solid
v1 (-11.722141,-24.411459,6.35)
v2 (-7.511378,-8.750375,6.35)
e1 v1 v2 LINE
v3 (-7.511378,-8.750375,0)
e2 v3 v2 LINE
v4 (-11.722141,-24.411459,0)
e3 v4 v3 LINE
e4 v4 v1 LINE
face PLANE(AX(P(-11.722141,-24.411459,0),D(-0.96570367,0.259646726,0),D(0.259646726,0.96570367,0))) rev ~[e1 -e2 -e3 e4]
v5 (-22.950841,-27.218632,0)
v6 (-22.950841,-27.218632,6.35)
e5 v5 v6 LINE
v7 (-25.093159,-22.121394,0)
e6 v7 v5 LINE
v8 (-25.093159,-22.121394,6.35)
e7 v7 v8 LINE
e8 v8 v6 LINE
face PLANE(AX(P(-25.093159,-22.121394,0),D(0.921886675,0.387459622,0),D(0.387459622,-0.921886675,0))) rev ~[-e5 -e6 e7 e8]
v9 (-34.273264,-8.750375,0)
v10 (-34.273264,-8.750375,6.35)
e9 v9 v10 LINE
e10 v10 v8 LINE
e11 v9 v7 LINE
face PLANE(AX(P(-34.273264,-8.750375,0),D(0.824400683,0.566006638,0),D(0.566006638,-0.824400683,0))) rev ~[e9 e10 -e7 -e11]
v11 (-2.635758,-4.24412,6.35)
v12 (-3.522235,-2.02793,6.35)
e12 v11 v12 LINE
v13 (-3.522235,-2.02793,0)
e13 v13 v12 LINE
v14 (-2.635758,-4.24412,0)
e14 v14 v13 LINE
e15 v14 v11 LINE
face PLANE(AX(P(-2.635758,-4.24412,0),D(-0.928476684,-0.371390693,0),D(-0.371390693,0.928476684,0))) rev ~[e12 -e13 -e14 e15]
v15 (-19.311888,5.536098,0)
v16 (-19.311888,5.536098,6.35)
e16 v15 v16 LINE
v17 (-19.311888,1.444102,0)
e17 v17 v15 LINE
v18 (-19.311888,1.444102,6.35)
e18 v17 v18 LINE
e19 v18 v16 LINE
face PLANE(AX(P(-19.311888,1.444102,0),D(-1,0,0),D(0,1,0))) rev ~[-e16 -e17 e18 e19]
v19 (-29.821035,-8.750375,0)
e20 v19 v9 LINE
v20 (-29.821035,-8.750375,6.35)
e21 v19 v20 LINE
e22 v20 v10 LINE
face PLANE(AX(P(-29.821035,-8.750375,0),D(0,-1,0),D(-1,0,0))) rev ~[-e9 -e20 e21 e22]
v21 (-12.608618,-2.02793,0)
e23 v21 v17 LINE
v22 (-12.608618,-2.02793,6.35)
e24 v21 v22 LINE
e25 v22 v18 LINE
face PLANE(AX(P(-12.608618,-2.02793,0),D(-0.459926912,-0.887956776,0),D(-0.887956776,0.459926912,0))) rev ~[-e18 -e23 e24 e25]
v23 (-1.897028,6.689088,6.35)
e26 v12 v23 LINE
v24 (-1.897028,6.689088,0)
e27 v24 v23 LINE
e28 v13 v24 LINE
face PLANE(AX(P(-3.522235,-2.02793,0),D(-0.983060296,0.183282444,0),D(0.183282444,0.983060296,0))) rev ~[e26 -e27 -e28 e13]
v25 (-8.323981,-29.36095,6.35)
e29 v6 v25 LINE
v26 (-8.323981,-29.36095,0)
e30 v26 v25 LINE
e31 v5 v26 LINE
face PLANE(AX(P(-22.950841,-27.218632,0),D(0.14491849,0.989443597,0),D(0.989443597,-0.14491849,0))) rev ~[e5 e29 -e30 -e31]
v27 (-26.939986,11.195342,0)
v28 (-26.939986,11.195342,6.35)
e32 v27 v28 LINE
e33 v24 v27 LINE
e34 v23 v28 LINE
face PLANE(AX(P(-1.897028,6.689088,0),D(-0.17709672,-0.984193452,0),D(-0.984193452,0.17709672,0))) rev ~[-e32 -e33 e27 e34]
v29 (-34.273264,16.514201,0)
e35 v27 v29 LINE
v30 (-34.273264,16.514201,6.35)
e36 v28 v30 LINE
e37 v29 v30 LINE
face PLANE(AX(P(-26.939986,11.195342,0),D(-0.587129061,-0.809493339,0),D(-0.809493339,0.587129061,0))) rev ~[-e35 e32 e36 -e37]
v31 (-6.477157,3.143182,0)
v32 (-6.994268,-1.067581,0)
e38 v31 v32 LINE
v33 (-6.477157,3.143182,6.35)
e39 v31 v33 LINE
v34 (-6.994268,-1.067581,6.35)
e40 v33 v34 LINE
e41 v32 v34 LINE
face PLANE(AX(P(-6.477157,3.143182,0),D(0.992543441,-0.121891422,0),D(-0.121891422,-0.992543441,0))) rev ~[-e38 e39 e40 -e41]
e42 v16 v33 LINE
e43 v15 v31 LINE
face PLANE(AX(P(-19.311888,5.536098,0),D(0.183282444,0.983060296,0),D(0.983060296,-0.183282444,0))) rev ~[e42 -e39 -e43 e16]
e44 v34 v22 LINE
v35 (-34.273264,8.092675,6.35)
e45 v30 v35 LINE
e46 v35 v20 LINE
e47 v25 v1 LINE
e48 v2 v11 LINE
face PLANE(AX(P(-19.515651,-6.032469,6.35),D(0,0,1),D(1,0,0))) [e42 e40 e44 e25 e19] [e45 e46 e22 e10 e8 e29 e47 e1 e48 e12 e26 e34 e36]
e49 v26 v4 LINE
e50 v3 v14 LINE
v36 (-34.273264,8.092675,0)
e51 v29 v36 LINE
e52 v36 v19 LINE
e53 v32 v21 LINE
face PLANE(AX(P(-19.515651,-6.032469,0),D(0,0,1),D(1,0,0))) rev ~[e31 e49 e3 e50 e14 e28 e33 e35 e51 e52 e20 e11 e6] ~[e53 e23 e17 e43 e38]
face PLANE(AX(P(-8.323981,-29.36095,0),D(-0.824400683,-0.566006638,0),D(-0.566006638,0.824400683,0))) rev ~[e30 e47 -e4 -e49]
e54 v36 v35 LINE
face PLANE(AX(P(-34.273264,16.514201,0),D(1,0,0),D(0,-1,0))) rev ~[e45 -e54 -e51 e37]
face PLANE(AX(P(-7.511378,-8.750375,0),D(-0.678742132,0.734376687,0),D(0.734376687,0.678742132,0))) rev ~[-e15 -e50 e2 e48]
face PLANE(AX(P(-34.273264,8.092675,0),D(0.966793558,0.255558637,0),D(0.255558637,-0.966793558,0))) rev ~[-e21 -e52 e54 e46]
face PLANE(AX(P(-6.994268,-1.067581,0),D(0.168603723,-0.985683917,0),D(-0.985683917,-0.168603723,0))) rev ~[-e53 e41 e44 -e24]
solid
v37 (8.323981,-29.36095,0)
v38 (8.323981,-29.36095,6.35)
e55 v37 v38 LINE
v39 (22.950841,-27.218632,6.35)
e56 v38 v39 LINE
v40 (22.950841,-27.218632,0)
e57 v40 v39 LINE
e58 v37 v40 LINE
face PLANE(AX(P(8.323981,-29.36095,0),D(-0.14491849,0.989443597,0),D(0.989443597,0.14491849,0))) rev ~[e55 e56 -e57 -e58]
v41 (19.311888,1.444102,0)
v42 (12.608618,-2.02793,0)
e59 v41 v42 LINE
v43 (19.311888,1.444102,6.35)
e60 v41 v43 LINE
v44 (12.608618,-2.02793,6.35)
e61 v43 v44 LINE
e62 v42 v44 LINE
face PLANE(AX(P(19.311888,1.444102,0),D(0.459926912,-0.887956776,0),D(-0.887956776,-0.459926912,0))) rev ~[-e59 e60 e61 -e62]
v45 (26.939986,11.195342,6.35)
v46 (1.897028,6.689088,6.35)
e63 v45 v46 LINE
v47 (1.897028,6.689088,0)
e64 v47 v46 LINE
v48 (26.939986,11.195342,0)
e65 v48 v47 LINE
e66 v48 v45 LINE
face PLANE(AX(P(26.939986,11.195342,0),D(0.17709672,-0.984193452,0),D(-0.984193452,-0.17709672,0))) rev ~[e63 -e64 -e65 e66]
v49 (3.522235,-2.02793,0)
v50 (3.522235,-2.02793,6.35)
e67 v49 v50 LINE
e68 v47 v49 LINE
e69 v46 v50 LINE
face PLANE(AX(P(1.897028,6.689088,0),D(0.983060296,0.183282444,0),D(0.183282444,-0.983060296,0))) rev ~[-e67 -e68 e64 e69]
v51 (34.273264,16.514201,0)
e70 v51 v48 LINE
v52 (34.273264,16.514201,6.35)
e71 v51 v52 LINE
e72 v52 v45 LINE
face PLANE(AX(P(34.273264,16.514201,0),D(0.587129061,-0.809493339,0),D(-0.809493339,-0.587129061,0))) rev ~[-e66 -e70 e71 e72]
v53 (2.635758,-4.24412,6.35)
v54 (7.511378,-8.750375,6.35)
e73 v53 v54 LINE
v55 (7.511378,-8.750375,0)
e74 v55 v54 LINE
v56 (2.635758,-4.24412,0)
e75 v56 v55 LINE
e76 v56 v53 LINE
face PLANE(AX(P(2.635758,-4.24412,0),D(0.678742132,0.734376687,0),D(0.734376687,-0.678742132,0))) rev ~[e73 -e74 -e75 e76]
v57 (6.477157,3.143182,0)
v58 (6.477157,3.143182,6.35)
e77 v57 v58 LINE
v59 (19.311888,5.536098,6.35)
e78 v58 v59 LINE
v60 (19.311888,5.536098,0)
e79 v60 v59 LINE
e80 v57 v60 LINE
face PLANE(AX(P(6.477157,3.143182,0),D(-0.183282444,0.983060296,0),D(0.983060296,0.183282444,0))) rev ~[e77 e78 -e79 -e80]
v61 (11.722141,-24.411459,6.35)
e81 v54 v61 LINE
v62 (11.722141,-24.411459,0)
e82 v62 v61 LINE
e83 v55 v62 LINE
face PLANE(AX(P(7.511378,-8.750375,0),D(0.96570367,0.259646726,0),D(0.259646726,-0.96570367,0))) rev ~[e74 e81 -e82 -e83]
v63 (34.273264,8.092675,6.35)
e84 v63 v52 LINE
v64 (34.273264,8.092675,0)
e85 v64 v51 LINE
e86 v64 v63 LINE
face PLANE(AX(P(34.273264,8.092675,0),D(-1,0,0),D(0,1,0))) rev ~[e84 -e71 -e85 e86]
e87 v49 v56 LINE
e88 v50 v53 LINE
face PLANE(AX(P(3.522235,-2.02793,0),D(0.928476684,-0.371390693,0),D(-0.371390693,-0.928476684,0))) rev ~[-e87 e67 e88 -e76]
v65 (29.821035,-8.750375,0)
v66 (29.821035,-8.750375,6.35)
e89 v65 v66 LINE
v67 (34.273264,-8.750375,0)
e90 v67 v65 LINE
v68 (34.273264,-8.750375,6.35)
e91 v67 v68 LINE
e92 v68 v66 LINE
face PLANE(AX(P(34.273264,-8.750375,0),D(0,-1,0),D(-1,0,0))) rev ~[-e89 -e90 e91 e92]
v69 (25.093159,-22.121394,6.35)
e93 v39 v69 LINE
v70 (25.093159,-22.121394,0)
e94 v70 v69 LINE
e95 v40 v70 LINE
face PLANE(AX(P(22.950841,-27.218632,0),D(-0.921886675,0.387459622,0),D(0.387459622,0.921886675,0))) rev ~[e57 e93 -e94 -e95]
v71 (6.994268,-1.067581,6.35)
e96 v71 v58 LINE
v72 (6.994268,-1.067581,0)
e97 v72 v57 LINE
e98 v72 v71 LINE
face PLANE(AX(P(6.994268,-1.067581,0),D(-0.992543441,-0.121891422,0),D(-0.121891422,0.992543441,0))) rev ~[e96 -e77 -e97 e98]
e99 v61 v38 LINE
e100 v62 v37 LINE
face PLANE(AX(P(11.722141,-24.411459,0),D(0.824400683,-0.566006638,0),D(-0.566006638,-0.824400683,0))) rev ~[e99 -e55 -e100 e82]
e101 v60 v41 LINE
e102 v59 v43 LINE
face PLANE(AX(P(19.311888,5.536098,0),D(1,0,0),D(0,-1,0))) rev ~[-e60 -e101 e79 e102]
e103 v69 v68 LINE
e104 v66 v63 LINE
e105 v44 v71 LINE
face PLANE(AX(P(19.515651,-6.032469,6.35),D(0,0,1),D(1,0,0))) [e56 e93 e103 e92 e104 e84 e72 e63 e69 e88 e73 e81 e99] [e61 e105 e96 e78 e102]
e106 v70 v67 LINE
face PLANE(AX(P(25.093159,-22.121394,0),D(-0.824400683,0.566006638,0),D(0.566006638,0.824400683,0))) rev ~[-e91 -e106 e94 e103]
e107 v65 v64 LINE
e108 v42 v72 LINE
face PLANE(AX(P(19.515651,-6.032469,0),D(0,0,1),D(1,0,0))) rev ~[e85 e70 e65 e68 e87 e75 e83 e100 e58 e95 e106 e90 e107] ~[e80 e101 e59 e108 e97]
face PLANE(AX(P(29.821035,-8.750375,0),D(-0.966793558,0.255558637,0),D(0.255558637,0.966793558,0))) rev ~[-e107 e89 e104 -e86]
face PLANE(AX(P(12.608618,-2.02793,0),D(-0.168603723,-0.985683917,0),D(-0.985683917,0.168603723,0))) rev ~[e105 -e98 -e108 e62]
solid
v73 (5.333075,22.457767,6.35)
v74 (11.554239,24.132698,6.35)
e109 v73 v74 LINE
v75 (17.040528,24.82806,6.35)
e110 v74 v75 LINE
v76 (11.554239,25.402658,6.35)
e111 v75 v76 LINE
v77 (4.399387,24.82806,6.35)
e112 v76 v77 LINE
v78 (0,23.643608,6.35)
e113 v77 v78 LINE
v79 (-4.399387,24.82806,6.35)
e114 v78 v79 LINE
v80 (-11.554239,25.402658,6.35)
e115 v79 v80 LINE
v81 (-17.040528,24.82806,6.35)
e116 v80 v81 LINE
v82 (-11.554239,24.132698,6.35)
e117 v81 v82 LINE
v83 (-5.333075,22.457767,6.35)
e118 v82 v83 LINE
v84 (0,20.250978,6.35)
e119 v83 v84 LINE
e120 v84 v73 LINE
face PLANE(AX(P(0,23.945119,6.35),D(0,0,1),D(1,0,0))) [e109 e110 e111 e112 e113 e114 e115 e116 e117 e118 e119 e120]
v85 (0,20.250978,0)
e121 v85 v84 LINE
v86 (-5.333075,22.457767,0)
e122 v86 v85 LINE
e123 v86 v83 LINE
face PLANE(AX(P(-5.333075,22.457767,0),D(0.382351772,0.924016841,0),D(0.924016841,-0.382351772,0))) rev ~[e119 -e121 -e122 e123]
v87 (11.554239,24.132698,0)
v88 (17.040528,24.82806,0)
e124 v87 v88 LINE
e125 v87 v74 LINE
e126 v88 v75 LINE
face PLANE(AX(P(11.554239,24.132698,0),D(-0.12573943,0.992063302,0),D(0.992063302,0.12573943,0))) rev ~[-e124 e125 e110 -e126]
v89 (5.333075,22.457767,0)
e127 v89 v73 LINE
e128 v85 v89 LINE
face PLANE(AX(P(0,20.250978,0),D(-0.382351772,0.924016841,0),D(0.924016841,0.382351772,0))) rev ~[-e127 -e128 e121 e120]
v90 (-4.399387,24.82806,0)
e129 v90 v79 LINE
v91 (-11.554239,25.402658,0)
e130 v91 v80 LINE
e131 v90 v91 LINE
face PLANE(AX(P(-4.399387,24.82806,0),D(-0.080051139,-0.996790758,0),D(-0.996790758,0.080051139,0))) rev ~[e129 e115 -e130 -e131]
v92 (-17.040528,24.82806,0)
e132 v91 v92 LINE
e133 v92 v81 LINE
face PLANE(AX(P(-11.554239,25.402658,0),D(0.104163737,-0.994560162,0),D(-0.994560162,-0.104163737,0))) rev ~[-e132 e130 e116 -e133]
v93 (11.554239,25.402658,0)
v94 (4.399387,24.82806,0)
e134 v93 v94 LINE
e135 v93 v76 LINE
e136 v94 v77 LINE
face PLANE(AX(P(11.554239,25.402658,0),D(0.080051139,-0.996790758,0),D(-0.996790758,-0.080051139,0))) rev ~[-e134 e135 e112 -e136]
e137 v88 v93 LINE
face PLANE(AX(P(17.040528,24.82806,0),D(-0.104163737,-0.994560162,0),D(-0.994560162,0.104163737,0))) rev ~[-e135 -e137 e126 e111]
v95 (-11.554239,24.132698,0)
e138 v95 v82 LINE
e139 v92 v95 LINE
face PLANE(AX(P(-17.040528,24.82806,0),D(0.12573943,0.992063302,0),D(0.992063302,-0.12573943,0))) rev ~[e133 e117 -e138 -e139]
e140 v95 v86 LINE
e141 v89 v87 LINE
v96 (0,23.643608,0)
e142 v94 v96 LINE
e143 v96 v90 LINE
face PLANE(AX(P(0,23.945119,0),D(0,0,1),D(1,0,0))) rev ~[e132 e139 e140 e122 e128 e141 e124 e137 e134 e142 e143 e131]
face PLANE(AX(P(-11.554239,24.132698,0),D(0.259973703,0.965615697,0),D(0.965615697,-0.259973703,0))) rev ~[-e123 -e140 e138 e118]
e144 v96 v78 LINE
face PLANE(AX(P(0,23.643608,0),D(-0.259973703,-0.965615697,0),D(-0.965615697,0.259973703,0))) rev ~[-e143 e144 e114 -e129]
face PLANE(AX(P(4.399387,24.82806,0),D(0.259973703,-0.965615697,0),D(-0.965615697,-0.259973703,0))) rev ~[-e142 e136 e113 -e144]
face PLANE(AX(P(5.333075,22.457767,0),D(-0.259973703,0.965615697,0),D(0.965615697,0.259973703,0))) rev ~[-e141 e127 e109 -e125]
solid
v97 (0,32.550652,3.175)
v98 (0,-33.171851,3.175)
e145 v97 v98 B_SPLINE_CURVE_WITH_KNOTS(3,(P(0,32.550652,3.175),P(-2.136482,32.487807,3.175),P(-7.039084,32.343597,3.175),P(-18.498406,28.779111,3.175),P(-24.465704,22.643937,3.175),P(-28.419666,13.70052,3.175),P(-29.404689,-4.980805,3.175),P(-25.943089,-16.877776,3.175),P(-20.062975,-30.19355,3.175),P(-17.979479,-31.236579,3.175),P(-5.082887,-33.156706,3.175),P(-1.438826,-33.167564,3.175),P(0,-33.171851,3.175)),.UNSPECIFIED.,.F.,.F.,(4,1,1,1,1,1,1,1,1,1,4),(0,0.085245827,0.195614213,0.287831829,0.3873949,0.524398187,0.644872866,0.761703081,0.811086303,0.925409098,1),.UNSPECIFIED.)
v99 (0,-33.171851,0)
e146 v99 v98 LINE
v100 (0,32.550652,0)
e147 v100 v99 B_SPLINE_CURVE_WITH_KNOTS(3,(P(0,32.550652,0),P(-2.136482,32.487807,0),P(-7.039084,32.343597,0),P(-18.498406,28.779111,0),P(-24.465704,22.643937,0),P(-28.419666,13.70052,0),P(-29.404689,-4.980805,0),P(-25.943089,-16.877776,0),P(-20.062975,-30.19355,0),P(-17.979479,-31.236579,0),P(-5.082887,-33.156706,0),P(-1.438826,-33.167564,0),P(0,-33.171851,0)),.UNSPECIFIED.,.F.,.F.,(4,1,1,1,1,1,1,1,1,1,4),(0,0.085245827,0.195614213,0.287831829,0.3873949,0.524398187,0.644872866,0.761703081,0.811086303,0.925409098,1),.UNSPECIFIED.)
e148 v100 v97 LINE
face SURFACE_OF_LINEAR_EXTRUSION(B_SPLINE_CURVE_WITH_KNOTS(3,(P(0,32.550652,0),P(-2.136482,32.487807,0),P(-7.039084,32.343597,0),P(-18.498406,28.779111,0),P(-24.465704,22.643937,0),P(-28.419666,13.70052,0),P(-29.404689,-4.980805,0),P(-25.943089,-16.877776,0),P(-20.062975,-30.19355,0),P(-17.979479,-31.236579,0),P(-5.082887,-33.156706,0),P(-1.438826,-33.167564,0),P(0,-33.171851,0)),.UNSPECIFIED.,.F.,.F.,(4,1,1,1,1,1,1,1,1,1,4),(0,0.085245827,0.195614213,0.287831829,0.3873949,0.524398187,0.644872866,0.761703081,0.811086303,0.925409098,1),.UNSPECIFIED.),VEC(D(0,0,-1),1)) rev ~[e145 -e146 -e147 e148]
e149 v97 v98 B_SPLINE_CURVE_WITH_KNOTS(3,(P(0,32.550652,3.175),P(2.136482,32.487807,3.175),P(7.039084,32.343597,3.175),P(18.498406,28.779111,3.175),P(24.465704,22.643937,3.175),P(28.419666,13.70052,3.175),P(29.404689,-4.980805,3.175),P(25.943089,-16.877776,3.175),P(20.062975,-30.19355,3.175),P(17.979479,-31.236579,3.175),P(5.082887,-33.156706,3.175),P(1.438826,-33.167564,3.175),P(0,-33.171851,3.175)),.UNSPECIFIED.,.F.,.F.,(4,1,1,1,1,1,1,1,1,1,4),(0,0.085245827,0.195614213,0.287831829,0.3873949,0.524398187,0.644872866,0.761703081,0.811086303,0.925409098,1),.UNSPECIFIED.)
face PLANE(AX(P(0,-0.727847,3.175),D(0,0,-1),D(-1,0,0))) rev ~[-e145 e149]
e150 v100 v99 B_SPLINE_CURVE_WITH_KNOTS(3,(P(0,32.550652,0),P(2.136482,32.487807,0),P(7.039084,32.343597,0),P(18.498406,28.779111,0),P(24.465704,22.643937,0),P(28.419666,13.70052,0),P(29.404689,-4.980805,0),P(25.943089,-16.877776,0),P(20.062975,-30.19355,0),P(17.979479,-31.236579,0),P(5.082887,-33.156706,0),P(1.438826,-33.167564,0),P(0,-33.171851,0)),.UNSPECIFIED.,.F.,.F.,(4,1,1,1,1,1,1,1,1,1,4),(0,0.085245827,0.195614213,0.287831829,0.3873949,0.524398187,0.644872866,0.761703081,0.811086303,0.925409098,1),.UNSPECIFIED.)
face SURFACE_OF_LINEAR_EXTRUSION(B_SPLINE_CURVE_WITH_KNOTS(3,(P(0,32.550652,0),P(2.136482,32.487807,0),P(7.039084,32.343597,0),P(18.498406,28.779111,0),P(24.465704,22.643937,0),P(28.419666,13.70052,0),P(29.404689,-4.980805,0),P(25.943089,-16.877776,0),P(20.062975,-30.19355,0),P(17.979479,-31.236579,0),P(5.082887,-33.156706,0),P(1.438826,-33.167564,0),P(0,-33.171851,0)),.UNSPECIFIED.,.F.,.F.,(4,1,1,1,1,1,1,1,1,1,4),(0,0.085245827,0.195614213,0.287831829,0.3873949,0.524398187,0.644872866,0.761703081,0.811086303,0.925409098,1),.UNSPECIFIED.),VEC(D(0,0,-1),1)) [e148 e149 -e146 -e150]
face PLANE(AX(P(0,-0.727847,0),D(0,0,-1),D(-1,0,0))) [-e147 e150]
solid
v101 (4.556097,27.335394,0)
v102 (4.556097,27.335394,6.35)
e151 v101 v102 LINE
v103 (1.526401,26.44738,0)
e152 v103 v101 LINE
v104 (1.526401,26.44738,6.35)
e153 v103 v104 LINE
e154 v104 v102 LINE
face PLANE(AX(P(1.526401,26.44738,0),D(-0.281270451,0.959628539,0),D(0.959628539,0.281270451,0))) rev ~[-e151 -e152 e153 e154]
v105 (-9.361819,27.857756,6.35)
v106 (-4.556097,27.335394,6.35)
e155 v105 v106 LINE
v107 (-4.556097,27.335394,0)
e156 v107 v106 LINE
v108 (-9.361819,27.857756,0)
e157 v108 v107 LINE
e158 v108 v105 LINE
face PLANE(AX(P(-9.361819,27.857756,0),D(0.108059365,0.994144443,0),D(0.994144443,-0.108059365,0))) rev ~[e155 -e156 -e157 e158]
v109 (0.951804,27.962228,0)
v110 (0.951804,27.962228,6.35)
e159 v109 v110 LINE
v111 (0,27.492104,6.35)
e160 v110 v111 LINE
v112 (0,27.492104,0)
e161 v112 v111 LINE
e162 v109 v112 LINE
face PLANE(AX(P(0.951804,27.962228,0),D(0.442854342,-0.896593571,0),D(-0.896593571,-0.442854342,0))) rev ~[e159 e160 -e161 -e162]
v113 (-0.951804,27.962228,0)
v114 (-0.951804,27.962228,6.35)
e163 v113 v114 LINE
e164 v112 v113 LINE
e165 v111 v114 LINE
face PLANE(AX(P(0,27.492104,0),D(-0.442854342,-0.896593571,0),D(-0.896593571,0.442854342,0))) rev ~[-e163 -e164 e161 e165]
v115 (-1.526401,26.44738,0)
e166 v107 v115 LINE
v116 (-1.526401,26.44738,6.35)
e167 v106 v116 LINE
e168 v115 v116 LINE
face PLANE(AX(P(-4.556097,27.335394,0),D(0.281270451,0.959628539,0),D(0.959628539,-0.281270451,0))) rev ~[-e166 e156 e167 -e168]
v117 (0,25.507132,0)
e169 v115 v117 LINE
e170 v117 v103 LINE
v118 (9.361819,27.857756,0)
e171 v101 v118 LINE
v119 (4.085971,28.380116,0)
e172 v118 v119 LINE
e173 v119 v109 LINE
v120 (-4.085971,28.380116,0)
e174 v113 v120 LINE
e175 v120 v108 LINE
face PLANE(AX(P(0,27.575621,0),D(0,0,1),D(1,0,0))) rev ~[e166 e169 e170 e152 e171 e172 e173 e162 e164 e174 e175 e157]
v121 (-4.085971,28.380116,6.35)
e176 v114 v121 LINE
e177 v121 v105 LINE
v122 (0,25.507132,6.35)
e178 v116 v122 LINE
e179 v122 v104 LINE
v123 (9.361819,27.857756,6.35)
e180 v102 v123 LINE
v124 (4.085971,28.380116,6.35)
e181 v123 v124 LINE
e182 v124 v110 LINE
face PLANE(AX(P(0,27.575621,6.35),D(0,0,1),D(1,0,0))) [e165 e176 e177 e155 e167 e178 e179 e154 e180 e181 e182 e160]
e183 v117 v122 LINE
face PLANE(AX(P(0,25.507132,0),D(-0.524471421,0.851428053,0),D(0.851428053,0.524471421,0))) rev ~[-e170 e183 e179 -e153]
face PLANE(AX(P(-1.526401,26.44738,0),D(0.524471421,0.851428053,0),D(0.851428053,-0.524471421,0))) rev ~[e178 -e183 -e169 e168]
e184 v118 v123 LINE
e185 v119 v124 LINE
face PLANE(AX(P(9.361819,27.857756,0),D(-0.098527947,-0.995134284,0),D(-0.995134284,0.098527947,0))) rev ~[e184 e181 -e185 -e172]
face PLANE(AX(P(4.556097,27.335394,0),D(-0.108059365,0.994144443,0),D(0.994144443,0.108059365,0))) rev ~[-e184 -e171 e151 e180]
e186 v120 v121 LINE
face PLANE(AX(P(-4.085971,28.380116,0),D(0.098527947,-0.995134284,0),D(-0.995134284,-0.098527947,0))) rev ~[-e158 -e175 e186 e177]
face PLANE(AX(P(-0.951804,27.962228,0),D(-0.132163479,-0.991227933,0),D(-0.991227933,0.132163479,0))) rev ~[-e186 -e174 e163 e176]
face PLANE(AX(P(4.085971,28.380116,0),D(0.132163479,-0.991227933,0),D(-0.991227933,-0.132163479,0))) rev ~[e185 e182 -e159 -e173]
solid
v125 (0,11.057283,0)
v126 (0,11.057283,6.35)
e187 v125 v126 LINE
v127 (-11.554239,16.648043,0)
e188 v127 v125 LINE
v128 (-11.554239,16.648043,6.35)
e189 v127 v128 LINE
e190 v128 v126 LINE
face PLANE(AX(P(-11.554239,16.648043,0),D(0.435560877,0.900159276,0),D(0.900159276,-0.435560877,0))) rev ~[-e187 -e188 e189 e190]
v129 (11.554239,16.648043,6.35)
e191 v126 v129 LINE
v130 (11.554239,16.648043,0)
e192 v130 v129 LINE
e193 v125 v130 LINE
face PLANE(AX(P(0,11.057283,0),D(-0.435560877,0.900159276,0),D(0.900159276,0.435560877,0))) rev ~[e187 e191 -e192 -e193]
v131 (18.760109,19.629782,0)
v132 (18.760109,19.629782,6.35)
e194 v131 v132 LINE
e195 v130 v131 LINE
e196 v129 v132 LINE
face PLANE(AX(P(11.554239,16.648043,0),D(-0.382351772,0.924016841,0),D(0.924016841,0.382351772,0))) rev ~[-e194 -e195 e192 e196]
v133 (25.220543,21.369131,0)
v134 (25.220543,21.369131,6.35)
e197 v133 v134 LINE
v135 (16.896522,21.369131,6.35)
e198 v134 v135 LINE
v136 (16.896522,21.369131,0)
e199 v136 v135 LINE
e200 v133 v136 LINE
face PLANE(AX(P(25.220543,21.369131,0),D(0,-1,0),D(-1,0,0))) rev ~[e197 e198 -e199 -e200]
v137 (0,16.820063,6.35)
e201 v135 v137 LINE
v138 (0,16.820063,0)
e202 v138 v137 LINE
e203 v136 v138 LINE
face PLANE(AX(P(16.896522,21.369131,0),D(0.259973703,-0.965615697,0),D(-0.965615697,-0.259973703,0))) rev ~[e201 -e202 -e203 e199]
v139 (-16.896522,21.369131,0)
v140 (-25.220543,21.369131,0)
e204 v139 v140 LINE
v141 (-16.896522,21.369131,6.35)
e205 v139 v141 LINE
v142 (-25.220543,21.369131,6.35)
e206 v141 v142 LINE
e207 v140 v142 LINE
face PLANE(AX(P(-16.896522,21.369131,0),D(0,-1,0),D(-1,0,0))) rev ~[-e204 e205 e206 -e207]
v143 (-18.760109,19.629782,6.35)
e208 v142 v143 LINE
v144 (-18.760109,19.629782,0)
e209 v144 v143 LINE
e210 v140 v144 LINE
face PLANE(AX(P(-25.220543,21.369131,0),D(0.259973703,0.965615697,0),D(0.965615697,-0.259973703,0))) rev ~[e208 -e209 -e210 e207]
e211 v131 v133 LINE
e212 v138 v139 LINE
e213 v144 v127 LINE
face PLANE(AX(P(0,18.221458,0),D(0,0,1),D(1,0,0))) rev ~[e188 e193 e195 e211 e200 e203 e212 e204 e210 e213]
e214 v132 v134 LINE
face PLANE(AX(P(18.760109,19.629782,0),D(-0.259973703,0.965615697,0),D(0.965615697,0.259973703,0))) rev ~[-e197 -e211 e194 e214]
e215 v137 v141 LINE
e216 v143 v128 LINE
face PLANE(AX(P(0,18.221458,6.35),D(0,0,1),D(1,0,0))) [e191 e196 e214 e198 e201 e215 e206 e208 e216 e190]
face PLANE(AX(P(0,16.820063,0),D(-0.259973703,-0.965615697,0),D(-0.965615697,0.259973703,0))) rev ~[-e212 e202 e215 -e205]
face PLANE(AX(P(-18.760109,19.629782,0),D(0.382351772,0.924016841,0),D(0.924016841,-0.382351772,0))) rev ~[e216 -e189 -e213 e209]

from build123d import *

# Parameters (mm, degrees)
F1_DEPTH = 6.35
F3_DEPTH = 3.175


with BuildPart() as f1:
    # F0 (on Top) → F1 (new body)
    with BuildSketch(Plane.XY):
        Polygon((-3.522234736, -2.0279295277), (-1.8970279489, 6.6890879534), (-26.9399862736, 11.1953420565), (-34.2732643226, 16.5142007172), (-34.2732643226, 8.0926753581), (-29.8210345209, -8.7503753603), (-34.2732643226, -8.7503753603), (-25.093158707, -22.1213940531), (-22.9508411139, -27.2186324), (-8.3239814267, -29.3609499931), (-11.7221409455, -24.4114585221), (-7.5113782659, -8.7503753603), (-2.6357583702, -4.2441203259), align=None)
        Polygon((-19.3118882292, 5.5360982841), (-6.477156654, 3.1431820244), (-6.9942683913, -1.0675807716), (-12.6086184755, -2.0279295277), (-19.3118882292, 1.4441022649), align=None, mode=Mode.SUBTRACT)
    extrude(amount=F1_DEPTH)


with BuildPart() as f1b:
    # F0 (on Top) → F1, piece 2 (new body)
    with BuildSketch(Plane.XY):
        Polygon((34.2732643226, 16.5142007172), (26.9399862736, 11.1953420565), (1.8970279489, 6.6890879534), (3.522234736, -2.0279295277), (2.6357583702, -4.2441203259), (7.5113782659, -8.7503753603), (11.7221409455, -24.4114585221), (8.3239814267, -29.3609499931), (22.9508411139, -27.2186324), (25.093158707, -22.1213940531), (34.2732643226, -8.7503753603), (29.8210345209, -8.7503753603), (34.2732643226, 8.0926753581), align=None)
        Polygon((19.3118882292, 1.4441022649), (12.6086184755, -2.0279295277), (6.9942683913, -1.0675807716), (6.477156654, 3.1431820244), (19.3118882292, 5.5360982841), align=None, mode=Mode.SUBTRACT)
    extrude(amount=F1_DEPTH)


with BuildPart() as f1c:
    # F0 (on Top) → F1, piece 3 (new body)
    with BuildSketch(Plane.XY):
        Polygon((-11.5542393178, 16.6480429471), (0, 11.057282798), (11.5542393178, 16.6480429471), (18.7601093203, 19.6297820657), (25.2205431461, 21.369131282), (16.8965216726, 21.369131282), (4.9202125492, 18.1447373096), (0, 16.8200634453), (-4.9202125492, 18.1447373096), (-16.8965216726, 21.369131282), (-25.2205431461, 21.369131282), (-18.7601093203, 19.6297820657), align=None)
    extrude(amount=F1_DEPTH)


with BuildPart() as f1d:
    # F0 (on Top) → F1, piece 4 (new body)
    with BuildSketch(Plane.XY):
        Polygon((-5.3330747326, 22.4577673502), (0, 20.2509779483), (5.3330747326, 22.4577673502), (11.5542393178, 24.1326978637), (17.040528357, 24.8280595988), (11.5542393178, 25.4026576877), (4.3993871659, 24.8280595988), (0, 23.6436080859), (-4.3993871659, 24.8280595988), (-11.5542393178, 25.4026576877), (-17.040528357, 24.8280595988), (-11.5542393178, 24.1326978637), align=None)
    extrude(amount=F1_DEPTH)


with BuildPart() as f1e:
    # F0 (on Top) → F1, piece 5 (new body)
    with BuildSketch(Plane.XY):
        Polygon((-1.5264012618, 26.4473799616), (0, 25.5071315914), (1.5264012618, 26.4473799616), (4.5560966246, 27.3353941739), (9.3618193641, 27.8577562422), (4.0859705769, 28.3801164478), (0.9518035222, 27.9622282833), (0, 27.4921040982), (-0.9518035222, 27.9622282833), (-4.0859705769, 28.3801164478), (-9.3618193641, 27.8577562422), (-4.5560966246, 27.3353941739), align=None)
    extrude(amount=F1_DEPTH)


with BuildPart() as f3:
    # F2 (on Top) → F3 (new body)
    with BuildSketch(Plane.XY):
        with BuildLine():
            add(Edge.make_bspline(
                [(0, 32.5506515801), (2.1364824014, 32.4878069703), (7.0390839198, 32.3435969926), (18.498406058, 28.7791112394), (24.4657037699, 22.6439368565), (28.4196655748, 13.7005197025), (29.4046891287, -4.9808047902), (25.9430889839, -16.8777760298), (20.0629749198, -30.193549678), (17.9794793815, -31.2365790961), (5.0828872629, -33.1567064188), (1.4388255417, -33.1675641205), (0, -33.1718511879)],
                knots=[0, 0, 0, 0, 0.0852458275, 0.1956142129, 0.2878318293, 0.3873949002, 0.5243981868, 0.6448728665, 0.7617030814, 0.8110863035, 0.9254090977, 1, 1, 1, 1], degree=3))
            add(Edge.make_bspline(
                [(0, 32.5506515801), (-2.1364824014, 32.4878069703), (-7.0390839198, 32.3435969926), (-18.498406058, 28.7791112394), (-24.4657037699, 22.6439368565), (-28.4196655748, 13.7005197025), (-29.4046891287, -4.9808047902), (-25.9430889839, -16.8777760298), (-20.0629749198, -30.193549678), (-17.9794793815, -31.2365790961), (-5.0828872629, -33.1567064188), (-1.4388255417, -33.1675641205), (0, -33.1718511879)],
                knots=[0, 0, 0, 0, 0.0852458275, 0.1956142129, 0.2878318293, 0.3873949002, 0.5243981868, 0.6448728665, 0.7617030814, 0.8110863035, 0.9254090977, 1, 1, 1, 1], degree=3))
        make_face()
    extrude(amount=F3_DEPTH)


solid = Compound([f1.part, f1b.part, f1c.part, f1d.part, f1e.part, f3.part])
